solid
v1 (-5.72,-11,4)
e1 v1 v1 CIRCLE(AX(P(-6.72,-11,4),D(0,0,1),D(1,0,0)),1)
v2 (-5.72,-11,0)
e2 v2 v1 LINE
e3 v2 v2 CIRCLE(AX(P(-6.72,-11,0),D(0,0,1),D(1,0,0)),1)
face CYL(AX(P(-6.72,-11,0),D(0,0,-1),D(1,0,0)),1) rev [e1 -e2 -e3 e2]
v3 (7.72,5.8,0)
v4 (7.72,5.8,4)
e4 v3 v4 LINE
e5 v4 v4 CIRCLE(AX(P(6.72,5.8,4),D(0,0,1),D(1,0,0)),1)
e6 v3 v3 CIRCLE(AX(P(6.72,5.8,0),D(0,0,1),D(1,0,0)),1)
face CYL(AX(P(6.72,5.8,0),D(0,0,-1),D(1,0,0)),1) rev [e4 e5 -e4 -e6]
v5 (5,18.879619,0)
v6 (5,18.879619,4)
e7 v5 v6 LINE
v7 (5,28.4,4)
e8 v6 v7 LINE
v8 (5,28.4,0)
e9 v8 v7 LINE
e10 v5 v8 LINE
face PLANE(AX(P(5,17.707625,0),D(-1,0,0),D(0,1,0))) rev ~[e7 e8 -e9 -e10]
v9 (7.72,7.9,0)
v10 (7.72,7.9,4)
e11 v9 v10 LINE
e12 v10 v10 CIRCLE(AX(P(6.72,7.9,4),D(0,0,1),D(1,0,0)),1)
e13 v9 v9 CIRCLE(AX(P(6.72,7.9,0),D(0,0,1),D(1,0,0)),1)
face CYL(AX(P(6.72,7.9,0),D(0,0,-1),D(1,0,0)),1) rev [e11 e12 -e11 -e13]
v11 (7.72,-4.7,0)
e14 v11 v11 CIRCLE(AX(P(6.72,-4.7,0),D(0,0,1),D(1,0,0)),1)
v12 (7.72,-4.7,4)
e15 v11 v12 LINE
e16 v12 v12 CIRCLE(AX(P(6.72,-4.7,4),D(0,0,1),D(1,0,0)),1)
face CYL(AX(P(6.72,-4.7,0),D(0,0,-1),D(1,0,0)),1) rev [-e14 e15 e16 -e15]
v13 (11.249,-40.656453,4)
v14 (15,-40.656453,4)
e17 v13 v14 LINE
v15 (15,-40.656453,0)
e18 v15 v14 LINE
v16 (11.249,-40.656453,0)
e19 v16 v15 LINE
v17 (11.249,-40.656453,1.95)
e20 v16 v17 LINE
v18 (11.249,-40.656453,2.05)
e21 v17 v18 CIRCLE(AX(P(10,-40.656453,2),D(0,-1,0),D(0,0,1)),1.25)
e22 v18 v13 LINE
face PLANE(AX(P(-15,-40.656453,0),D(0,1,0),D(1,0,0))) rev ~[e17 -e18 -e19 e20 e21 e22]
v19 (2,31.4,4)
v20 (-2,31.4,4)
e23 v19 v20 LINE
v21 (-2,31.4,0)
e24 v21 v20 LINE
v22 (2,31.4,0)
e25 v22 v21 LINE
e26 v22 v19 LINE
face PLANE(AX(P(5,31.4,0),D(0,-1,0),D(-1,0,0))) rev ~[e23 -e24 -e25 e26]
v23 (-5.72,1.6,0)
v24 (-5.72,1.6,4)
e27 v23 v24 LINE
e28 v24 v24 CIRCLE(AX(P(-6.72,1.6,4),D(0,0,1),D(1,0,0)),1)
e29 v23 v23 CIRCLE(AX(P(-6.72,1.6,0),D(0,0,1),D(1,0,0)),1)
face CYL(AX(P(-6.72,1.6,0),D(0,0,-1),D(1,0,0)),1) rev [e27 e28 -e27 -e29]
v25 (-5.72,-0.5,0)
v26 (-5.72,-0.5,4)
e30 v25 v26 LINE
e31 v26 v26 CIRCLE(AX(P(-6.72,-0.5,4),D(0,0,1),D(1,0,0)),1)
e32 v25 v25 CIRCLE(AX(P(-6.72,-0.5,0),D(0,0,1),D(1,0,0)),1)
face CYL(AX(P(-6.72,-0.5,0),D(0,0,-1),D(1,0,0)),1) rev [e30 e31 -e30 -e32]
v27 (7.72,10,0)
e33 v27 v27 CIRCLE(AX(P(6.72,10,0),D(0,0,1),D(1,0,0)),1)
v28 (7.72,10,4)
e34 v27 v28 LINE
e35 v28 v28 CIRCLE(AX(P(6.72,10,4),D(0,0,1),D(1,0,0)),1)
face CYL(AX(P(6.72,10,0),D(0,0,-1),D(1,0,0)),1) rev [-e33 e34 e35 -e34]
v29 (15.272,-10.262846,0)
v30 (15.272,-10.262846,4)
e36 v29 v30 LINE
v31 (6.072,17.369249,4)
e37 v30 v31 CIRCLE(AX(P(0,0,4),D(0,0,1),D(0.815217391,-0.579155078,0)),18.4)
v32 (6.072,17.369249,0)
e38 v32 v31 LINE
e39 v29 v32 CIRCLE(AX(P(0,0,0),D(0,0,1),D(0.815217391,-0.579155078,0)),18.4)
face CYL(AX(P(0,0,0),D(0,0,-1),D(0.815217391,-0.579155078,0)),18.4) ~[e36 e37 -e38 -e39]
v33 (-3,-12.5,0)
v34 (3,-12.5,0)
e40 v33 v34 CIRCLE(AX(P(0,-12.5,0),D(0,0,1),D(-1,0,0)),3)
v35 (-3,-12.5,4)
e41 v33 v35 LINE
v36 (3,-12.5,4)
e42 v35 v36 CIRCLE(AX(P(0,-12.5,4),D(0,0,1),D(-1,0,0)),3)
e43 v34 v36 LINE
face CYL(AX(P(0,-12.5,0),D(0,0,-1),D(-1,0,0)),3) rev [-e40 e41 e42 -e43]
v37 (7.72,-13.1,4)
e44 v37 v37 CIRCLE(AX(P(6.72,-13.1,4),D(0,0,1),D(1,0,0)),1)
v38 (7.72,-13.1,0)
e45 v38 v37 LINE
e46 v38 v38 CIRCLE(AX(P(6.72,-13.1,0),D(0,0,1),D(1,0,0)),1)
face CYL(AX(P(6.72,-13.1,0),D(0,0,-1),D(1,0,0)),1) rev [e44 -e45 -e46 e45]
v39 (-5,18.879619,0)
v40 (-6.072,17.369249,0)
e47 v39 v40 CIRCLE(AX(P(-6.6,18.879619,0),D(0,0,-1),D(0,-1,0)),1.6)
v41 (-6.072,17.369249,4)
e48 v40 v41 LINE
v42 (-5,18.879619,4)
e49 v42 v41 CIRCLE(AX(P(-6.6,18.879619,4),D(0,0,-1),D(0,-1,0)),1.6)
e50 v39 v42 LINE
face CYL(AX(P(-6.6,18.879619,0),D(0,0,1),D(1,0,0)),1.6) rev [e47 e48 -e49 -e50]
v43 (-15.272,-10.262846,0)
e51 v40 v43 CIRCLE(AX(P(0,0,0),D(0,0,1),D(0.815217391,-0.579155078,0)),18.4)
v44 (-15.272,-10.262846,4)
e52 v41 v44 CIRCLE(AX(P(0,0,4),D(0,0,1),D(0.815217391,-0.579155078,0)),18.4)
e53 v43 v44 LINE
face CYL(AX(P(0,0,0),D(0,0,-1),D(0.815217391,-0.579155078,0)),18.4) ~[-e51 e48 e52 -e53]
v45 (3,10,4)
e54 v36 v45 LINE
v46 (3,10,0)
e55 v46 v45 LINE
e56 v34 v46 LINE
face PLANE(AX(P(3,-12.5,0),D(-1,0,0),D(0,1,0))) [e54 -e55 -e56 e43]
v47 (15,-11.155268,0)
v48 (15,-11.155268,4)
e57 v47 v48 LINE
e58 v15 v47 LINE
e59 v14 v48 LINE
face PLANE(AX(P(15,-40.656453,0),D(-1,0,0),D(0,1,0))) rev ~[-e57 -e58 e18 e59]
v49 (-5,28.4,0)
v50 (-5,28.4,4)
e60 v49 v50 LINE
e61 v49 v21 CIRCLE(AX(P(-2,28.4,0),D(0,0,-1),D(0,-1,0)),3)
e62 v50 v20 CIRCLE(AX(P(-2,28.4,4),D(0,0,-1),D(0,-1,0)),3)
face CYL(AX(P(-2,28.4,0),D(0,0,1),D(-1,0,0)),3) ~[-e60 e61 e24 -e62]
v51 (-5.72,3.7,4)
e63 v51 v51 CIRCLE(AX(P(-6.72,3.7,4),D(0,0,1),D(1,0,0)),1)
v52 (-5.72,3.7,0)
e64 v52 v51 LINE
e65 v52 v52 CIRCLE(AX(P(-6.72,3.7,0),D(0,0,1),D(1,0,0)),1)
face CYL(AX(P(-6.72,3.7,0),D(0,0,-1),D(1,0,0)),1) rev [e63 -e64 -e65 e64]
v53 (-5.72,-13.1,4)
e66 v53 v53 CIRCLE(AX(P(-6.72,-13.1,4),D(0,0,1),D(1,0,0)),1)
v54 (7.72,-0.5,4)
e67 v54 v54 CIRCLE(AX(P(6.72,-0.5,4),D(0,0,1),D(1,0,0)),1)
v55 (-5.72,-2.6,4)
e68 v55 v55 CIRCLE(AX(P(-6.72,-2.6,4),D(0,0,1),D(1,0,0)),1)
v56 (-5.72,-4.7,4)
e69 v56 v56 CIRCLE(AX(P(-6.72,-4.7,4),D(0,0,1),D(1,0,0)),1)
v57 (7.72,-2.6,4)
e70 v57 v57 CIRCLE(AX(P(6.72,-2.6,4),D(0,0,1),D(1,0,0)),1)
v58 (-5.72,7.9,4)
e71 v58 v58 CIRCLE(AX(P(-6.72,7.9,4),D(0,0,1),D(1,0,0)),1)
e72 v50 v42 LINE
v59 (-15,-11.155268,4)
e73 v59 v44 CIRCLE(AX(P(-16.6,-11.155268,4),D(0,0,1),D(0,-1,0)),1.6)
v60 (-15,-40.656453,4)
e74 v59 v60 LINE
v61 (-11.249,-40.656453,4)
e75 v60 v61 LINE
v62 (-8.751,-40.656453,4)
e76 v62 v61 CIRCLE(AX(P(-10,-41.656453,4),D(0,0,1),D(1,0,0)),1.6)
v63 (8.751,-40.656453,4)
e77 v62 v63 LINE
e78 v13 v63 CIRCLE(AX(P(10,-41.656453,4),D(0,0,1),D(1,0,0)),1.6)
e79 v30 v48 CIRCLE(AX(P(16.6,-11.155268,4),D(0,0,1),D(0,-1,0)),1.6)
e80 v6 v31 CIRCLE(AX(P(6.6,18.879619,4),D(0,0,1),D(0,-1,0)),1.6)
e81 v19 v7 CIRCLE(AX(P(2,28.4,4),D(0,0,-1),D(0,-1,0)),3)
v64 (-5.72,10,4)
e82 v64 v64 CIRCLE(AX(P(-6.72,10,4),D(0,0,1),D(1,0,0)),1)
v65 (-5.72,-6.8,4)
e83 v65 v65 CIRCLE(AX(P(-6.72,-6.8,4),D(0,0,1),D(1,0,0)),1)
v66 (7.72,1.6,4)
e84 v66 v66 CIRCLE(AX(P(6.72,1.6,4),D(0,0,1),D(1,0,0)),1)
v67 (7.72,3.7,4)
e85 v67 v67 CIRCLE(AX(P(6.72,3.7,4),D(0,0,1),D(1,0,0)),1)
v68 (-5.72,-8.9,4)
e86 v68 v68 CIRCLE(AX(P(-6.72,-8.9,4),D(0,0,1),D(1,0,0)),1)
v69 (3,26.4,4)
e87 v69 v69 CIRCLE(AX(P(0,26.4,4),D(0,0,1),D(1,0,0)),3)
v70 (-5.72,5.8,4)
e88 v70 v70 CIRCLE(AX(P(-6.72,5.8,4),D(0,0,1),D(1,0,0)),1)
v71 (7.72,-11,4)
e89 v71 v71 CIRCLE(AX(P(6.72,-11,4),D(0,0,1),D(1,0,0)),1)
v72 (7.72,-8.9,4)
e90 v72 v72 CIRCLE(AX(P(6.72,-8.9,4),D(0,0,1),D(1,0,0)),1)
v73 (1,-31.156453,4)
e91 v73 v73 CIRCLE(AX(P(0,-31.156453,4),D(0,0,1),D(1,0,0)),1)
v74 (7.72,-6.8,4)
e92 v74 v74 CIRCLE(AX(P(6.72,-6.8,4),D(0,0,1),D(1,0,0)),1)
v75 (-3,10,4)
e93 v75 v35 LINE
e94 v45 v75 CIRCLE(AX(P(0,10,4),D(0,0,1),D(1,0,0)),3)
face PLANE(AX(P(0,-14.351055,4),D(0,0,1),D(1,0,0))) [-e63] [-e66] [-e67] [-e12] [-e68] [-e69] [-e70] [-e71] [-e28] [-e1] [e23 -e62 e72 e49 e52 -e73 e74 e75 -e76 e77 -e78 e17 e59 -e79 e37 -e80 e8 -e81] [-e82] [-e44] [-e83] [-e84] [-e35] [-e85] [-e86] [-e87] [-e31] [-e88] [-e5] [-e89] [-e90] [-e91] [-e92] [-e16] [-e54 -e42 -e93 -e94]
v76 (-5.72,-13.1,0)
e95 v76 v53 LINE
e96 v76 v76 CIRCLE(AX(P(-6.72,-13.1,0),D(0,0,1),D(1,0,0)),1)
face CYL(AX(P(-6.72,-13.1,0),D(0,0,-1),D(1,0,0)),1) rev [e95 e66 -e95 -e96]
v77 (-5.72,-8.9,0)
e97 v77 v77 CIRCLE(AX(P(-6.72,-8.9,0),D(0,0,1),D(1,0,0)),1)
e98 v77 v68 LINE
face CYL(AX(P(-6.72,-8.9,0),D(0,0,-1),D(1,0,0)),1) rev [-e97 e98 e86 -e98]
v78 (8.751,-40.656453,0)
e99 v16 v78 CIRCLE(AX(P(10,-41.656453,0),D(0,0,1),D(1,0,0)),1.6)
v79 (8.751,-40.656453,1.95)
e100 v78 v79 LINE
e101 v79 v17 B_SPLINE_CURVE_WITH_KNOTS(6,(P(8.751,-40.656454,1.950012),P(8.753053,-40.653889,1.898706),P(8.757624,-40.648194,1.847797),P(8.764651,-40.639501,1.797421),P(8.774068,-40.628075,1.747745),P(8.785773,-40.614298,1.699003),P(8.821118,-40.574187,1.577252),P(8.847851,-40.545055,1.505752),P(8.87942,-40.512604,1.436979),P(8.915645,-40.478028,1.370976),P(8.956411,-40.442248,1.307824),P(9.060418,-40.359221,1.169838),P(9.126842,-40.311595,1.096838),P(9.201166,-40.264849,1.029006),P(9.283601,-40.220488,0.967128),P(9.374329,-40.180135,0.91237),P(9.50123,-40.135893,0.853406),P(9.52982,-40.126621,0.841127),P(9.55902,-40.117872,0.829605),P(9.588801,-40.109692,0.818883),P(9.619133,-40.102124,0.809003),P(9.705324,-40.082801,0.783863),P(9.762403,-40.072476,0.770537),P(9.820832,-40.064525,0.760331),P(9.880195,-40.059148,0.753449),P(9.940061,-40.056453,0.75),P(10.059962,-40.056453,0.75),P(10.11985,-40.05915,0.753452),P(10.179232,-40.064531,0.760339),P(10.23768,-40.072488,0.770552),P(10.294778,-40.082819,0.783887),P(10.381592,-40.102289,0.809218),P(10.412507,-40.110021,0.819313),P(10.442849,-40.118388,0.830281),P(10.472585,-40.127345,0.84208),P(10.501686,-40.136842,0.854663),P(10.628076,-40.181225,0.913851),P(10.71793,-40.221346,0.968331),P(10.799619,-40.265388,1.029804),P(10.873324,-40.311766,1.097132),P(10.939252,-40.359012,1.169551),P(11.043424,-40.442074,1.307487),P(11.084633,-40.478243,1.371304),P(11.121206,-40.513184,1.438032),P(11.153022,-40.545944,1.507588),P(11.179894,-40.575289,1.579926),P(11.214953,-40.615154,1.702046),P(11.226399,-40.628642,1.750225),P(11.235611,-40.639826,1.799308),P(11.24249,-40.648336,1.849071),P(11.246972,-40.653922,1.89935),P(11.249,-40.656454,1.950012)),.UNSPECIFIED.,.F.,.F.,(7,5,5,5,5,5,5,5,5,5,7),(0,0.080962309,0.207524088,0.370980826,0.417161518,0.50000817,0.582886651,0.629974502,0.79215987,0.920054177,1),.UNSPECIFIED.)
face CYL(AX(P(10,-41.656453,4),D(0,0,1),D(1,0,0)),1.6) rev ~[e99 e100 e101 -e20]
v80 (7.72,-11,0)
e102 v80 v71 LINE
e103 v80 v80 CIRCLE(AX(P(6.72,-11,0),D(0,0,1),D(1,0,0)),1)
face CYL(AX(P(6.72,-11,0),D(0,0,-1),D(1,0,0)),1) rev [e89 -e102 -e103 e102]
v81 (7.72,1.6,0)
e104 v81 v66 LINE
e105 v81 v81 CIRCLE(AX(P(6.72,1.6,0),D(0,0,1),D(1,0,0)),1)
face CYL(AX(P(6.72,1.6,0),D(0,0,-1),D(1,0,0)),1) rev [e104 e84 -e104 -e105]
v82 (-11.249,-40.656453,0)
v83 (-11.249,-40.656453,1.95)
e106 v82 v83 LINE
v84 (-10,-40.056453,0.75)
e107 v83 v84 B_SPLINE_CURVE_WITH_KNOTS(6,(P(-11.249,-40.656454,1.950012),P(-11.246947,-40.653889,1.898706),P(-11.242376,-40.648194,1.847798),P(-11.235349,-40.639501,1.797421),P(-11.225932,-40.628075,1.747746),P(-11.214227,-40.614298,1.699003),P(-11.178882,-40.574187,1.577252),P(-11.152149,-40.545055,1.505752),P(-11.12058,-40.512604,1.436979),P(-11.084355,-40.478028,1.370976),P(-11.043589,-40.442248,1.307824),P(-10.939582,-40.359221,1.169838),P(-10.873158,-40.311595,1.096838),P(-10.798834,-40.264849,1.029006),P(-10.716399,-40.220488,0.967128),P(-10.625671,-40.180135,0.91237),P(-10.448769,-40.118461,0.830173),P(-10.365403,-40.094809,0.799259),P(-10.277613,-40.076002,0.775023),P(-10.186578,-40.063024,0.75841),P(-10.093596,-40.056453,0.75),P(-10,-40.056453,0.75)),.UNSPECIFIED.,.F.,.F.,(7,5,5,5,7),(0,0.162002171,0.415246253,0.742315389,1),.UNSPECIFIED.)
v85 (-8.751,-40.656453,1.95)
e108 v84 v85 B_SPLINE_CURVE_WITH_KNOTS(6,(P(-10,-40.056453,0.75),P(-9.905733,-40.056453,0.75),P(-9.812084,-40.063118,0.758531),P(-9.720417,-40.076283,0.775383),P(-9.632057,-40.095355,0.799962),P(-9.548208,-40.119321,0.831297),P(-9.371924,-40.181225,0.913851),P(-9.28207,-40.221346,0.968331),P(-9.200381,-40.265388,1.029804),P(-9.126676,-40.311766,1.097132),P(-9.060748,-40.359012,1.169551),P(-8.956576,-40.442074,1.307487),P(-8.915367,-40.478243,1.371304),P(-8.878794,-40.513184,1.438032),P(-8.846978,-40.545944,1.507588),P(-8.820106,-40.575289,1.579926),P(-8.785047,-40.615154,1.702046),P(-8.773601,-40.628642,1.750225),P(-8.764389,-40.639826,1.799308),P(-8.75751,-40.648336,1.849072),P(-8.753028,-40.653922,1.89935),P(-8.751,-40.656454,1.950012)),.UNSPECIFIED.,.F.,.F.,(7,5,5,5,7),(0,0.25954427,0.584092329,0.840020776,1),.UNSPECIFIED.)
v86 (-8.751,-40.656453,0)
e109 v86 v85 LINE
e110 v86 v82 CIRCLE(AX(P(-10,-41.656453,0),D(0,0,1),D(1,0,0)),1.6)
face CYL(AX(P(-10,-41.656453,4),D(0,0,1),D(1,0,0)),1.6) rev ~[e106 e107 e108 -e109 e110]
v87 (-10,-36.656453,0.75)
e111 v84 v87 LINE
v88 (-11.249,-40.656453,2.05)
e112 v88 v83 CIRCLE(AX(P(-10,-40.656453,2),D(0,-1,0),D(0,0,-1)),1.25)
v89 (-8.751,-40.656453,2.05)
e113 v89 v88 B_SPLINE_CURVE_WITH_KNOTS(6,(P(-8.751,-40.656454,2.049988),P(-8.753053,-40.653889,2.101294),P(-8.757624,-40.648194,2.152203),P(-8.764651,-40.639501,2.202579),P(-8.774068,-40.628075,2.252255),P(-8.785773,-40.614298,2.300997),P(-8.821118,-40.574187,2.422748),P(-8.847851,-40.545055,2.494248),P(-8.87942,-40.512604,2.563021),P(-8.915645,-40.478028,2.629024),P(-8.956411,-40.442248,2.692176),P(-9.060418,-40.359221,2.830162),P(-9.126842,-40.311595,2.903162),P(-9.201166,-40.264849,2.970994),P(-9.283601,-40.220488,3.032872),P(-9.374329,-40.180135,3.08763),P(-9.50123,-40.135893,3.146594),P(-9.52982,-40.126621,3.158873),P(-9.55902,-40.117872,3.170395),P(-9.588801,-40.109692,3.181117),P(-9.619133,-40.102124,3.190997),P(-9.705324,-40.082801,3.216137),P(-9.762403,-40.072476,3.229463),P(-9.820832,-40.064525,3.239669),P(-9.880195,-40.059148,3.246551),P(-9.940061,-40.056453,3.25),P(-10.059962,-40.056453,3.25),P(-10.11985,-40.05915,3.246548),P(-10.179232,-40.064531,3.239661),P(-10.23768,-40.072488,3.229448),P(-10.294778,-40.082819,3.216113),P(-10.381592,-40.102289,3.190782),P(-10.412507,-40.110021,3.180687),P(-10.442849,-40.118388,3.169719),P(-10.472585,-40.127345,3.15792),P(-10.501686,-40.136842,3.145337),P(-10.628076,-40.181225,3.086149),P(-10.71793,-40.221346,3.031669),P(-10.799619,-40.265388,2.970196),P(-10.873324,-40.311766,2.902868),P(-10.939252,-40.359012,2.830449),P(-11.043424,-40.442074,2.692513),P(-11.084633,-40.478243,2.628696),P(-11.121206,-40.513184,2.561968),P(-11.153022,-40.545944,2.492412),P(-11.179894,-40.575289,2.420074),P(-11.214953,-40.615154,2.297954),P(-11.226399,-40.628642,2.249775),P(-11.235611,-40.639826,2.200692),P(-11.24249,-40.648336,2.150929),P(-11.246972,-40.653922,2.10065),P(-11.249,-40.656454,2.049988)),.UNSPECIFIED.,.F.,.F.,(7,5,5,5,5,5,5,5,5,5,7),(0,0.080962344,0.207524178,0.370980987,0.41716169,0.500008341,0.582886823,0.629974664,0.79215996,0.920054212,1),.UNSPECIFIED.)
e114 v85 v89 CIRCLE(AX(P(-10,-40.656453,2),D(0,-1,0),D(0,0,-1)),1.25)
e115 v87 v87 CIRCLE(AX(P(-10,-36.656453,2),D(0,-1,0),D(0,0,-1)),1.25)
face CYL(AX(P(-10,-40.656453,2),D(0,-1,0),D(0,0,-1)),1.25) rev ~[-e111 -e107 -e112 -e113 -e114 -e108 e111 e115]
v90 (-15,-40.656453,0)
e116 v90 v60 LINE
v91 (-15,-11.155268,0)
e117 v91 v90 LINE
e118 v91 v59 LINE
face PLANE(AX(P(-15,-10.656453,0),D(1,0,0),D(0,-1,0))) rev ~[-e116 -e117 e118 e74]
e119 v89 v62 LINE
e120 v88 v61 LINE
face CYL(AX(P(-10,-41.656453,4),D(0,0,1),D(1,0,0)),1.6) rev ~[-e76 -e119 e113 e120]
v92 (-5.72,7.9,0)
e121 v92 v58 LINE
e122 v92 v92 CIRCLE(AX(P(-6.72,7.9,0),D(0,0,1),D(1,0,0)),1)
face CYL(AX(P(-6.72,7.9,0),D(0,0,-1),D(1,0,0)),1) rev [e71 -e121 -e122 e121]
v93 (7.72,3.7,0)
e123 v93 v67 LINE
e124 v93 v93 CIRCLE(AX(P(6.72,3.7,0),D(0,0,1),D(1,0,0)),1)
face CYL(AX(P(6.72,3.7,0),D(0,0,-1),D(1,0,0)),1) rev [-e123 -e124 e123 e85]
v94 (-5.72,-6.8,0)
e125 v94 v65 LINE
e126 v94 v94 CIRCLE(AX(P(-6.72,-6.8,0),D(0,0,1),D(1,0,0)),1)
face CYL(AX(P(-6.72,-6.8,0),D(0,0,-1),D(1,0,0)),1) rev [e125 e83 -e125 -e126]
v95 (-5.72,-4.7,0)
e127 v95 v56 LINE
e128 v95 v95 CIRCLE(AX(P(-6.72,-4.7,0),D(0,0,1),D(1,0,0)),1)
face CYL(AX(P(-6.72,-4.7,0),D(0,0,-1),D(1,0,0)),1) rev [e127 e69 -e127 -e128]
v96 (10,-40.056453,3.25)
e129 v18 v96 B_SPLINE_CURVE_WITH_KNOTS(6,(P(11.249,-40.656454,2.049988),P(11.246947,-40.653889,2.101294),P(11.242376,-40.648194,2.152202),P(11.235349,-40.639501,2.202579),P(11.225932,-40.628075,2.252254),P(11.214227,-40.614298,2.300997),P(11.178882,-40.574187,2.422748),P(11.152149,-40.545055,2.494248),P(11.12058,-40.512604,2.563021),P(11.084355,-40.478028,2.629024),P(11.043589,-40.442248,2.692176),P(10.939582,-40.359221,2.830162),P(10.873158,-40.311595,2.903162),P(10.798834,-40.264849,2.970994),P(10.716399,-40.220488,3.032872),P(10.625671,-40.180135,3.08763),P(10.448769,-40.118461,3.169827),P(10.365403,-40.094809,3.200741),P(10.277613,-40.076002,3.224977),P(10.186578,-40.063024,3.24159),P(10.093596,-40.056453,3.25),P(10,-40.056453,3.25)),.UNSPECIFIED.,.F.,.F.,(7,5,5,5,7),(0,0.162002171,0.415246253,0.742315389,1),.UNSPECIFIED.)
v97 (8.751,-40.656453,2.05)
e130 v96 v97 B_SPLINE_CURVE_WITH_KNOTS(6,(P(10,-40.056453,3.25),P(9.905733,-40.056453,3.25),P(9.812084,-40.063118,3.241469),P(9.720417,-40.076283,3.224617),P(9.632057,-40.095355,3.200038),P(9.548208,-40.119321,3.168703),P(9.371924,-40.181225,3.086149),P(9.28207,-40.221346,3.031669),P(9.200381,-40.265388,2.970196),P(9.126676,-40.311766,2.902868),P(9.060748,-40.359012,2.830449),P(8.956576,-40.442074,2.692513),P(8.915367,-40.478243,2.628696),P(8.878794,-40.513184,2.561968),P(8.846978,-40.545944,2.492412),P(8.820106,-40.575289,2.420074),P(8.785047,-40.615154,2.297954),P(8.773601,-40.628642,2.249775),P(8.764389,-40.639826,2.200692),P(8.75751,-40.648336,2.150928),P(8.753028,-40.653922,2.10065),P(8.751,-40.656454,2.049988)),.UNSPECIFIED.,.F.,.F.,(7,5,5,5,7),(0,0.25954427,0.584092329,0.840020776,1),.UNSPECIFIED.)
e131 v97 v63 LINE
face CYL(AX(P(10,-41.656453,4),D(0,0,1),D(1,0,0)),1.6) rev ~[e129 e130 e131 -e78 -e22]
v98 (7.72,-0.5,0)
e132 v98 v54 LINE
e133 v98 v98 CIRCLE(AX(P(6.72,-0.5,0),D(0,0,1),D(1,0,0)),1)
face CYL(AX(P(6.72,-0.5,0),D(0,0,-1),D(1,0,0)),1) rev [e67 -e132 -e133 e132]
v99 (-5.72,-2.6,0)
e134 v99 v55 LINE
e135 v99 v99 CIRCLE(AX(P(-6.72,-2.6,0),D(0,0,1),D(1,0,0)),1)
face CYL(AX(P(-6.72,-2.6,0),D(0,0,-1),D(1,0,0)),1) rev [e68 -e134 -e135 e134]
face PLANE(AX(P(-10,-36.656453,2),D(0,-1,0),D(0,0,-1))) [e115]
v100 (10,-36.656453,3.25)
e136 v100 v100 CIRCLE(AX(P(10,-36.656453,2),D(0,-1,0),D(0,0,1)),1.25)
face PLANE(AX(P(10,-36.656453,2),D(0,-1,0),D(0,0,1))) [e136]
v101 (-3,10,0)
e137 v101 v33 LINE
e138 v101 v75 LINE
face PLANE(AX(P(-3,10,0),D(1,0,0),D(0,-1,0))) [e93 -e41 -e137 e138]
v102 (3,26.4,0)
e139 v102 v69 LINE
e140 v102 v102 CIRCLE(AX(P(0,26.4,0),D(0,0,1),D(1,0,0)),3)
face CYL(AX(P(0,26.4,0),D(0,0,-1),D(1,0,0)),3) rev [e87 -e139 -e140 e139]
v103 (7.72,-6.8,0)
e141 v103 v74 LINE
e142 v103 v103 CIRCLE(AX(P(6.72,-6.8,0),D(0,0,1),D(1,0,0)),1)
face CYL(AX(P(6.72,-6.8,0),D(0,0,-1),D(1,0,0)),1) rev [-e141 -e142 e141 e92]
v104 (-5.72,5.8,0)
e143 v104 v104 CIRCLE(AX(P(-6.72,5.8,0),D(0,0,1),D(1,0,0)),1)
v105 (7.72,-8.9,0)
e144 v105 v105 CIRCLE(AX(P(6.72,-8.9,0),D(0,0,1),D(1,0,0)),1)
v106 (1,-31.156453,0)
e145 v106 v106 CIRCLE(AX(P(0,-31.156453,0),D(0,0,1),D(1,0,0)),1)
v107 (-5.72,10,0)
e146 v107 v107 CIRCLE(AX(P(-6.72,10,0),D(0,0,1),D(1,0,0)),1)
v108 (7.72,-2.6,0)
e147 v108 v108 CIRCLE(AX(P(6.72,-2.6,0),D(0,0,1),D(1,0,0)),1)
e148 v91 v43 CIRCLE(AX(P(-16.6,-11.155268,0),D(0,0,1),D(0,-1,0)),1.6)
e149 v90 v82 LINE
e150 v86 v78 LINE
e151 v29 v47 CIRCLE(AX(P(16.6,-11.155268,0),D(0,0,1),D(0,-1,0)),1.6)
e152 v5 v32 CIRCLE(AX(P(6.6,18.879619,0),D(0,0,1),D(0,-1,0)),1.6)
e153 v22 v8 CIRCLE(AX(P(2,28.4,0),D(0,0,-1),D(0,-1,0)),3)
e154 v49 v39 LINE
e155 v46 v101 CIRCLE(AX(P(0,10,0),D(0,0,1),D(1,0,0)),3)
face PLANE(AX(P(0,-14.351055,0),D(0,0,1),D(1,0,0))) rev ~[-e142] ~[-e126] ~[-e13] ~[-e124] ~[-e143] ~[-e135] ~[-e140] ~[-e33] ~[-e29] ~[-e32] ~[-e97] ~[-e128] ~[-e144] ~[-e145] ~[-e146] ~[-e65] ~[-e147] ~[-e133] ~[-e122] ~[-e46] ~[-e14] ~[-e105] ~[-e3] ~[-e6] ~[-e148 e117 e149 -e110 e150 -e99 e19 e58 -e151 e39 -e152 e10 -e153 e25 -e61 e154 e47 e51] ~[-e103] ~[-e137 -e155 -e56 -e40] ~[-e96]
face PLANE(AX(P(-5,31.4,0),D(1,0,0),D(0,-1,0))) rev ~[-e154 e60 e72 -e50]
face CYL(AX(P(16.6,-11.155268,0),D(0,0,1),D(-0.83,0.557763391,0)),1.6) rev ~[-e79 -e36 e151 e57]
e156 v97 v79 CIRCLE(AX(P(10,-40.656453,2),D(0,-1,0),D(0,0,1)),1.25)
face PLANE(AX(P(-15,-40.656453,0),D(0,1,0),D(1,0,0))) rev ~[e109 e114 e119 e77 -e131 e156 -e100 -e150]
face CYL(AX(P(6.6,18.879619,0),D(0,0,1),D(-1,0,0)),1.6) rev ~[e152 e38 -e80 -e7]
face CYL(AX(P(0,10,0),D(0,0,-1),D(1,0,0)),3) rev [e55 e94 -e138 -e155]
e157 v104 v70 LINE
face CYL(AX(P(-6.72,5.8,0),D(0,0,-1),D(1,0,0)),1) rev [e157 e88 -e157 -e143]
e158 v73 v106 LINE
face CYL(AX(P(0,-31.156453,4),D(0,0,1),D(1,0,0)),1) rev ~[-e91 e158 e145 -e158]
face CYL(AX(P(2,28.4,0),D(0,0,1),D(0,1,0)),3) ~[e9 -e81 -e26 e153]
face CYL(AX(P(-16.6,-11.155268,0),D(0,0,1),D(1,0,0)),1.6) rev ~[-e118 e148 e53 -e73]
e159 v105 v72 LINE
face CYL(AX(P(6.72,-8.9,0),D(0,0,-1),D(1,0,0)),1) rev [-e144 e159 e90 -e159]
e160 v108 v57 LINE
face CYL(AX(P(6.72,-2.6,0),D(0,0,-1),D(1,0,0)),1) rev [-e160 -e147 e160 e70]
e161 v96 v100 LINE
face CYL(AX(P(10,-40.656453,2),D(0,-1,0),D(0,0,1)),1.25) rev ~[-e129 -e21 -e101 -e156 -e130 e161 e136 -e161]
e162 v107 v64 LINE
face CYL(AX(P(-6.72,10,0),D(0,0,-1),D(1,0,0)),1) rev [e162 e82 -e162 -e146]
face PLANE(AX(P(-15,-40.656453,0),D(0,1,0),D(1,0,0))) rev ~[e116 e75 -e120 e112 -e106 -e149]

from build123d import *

# Parameters (mm, degrees)
CROQUIS1_R              = 1
SALIENTE_EXTRUIR1_DEPTH = 4
CROQUIS3_R              = 1.25
CORTAR_EXTRUIR1_DEPTH   = 4
SALIENTE_EXTRUIR2_START = -4
CROQUIS4_R              = 3
SALIENTE_EXTRUIR2_DEPTH = 4
REDONDEO1_R             = 3
REDONDEO2_R             = 1.6
CROQUIS5_R              = 1.6
CORTAR_EXTRUIR2_DEPTH   = 4
CROQUIS6_R              = 1
CORTAR_EXTRUIR3_DEPTH   = 4


with BuildPart() as part:
    # Croquis1 → Saliente-Extruir1 (new body)
    with BuildSketch(Plane.XY):
        with BuildLine():
            Line((-15, -10.656453444), (-15, -40.656453444))
            Line((-15, -40.656453444), (15, -40.656453444))
            Line((15, -40.656453444), (15, -10.656453444))
            ThreePointArc((15, -10.656453444), (0, 18.4), (-15, -10.656453444))
        make_face()
        with Locations((-6.72, 10)):
            Circle(CROQUIS1_R, mode=Mode.SUBTRACT)
        with Locations((6.72, 10)):
            Circle(CROQUIS1_R, mode=Mode.SUBTRACT)
        with Locations((-6.72, 7.9)):
            Circle(CROQUIS1_R, mode=Mode.SUBTRACT)
        with Locations((6.72, 7.9)):
            Circle(CROQUIS1_R, mode=Mode.SUBTRACT)
        with Locations((-6.72, 5.8)):
            Circle(CROQUIS1_R, mode=Mode.SUBTRACT)
        with Locations((6.72, 5.8)):
            Circle(CROQUIS1_R, mode=Mode.SUBTRACT)
        with Locations((-6.72, 3.7)):
            Circle(CROQUIS1_R, mode=Mode.SUBTRACT)
        with Locations((6.72, 3.7)):
            Circle(CROQUIS1_R, mode=Mode.SUBTRACT)
        with Locations((-6.72, 1.6)):
            Circle(CROQUIS1_R, mode=Mode.SUBTRACT)
        with Locations((6.72, 1.6)):
            Circle(CROQUIS1_R, mode=Mode.SUBTRACT)
        with Locations((-6.72, -0.5)):
            Circle(CROQUIS1_R, mode=Mode.SUBTRACT)
        with Locations((6.72, -0.5)):
            Circle(CROQUIS1_R, mode=Mode.SUBTRACT)
        with Locations((-6.72, -2.6)):
            Circle(CROQUIS1_R, mode=Mode.SUBTRACT)
        with Locations((6.72, -2.6)):
            Circle(CROQUIS1_R, mode=Mode.SUBTRACT)
        with Locations((-6.72, -4.7)):
            Circle(CROQUIS1_R, mode=Mode.SUBTRACT)
        with Locations((6.72, -4.7)):
            Circle(CROQUIS1_R, mode=Mode.SUBTRACT)
        with Locations((-6.72, -6.8)):
            Circle(CROQUIS1_R, mode=Mode.SUBTRACT)
        with Locations((6.72, -6.8)):
            Circle(CROQUIS1_R, mode=Mode.SUBTRACT)
        with Locations((-6.72, -8.9)):
            Circle(CROQUIS1_R, mode=Mode.SUBTRACT)
        with Locations((6.72, -8.9)):
            Circle(CROQUIS1_R, mode=Mode.SUBTRACT)
        with Locations((-6.72, -11)):
            Circle(CROQUIS1_R, mode=Mode.SUBTRACT)
        with Locations((6.72, -11)):
            Circle(CROQUIS1_R, mode=Mode.SUBTRACT)
        with Locations((-6.72, -13.1)):
            Circle(CROQUIS1_R, mode=Mode.SUBTRACT)
        with Locations((6.72, -13.1)):
            Circle(CROQUIS1_R, mode=Mode.SUBTRACT)
        with BuildLine():
            Line((3, 0), (3, 10))
            ThreePointArc((3, 10), (0, 13), (-3, 10))
            Line((-3, 10), (-3, 0))
            Line((-3, 0), (-3, -12.5))
            ThreePointArc((-3, -12.5), (0, -15.5), (3, -12.5))
            Line((3, -12.5), (3, 0))
        make_face(mode=Mode.SUBTRACT)
    extrude(amount=SALIENTE_EXTRUIR1_DEPTH)

    # Croquis3 → Cortar-Extruir1 (cut)
    with BuildSketch(Plane.XZ.offset(40.656453444)):
        with Locations(Location((-10, 2, 0), (0, 0, 270))):
            Circle(CROQUIS3_R)
        with Locations(Location((10, 2, 0), (0, 0, 90))):
            Circle(CROQUIS3_R)
    extrude(amount=-CORTAR_EXTRUIR1_DEPTH, mode=Mode.SUBTRACT)

    # Croquis4 → Saliente-Extruir2 (add)
    with BuildSketch(Plane.XY.offset(4).offset(SALIENTE_EXTRUIR2_START)):
        with BuildLine():
            Line((5, 31.4), (-5, 31.4))
            Line((-5, 31.4), (-5, 17.707625476))
            ThreePointArc((-5, 17.707625476), (0, 18.4), (5, 17.707625476))
            Line((5, 17.707625476), (5, 31.4))
        make_face()
        with Locations((0, 26.4)):
            Circle(CROQUIS4_R, mode=Mode.SUBTRACT)
    extrude(amount=SALIENTE_EXTRUIR2_DEPTH)

    # Redondeo1
    redondeo1_edges = [part.edges().sort_by_distance(p)[0] for p in [
        (-5, 31.4, 2),
        (5, 31.4, 2),
    ]]
    fillet(redondeo1_edges, radius=REDONDEO1_R)

    # Redondeo2
    redondeo2_edges = [part.edges().sort_by_distance(p)[0] for p in [
        (-5, 17.707625476, 2),
        (5, 17.707625476, 2),
        (15, -10.656453444, 2),
        (-15, -10.656453444, 2),
    ]]
    fillet(redondeo2_edges, radius=REDONDEO2_R)

    # Croquis5 → Cortar-Extruir2 (cut)
    with BuildSketch(Plane.XY.offset(4)):
        with Locations((-10, -41.656453444)):
            Circle(CROQUIS5_R)
        with Locations((10, -41.656453444)):
            Circle(CROQUIS5_R)
    extrude(amount=-CORTAR_EXTRUIR2_DEPTH, mode=Mode.SUBTRACT)

    # Croquis6 → Cortar-Extruir3 (cut)
    with BuildSketch(Plane.XY.offset(4)):
        with Locations((0, -31.156453444)):
            Circle(CROQUIS6_R)
    extrude(amount=-CORTAR_EXTRUIR3_DEPTH, mode=Mode.SUBTRACT)


solid = part.part
